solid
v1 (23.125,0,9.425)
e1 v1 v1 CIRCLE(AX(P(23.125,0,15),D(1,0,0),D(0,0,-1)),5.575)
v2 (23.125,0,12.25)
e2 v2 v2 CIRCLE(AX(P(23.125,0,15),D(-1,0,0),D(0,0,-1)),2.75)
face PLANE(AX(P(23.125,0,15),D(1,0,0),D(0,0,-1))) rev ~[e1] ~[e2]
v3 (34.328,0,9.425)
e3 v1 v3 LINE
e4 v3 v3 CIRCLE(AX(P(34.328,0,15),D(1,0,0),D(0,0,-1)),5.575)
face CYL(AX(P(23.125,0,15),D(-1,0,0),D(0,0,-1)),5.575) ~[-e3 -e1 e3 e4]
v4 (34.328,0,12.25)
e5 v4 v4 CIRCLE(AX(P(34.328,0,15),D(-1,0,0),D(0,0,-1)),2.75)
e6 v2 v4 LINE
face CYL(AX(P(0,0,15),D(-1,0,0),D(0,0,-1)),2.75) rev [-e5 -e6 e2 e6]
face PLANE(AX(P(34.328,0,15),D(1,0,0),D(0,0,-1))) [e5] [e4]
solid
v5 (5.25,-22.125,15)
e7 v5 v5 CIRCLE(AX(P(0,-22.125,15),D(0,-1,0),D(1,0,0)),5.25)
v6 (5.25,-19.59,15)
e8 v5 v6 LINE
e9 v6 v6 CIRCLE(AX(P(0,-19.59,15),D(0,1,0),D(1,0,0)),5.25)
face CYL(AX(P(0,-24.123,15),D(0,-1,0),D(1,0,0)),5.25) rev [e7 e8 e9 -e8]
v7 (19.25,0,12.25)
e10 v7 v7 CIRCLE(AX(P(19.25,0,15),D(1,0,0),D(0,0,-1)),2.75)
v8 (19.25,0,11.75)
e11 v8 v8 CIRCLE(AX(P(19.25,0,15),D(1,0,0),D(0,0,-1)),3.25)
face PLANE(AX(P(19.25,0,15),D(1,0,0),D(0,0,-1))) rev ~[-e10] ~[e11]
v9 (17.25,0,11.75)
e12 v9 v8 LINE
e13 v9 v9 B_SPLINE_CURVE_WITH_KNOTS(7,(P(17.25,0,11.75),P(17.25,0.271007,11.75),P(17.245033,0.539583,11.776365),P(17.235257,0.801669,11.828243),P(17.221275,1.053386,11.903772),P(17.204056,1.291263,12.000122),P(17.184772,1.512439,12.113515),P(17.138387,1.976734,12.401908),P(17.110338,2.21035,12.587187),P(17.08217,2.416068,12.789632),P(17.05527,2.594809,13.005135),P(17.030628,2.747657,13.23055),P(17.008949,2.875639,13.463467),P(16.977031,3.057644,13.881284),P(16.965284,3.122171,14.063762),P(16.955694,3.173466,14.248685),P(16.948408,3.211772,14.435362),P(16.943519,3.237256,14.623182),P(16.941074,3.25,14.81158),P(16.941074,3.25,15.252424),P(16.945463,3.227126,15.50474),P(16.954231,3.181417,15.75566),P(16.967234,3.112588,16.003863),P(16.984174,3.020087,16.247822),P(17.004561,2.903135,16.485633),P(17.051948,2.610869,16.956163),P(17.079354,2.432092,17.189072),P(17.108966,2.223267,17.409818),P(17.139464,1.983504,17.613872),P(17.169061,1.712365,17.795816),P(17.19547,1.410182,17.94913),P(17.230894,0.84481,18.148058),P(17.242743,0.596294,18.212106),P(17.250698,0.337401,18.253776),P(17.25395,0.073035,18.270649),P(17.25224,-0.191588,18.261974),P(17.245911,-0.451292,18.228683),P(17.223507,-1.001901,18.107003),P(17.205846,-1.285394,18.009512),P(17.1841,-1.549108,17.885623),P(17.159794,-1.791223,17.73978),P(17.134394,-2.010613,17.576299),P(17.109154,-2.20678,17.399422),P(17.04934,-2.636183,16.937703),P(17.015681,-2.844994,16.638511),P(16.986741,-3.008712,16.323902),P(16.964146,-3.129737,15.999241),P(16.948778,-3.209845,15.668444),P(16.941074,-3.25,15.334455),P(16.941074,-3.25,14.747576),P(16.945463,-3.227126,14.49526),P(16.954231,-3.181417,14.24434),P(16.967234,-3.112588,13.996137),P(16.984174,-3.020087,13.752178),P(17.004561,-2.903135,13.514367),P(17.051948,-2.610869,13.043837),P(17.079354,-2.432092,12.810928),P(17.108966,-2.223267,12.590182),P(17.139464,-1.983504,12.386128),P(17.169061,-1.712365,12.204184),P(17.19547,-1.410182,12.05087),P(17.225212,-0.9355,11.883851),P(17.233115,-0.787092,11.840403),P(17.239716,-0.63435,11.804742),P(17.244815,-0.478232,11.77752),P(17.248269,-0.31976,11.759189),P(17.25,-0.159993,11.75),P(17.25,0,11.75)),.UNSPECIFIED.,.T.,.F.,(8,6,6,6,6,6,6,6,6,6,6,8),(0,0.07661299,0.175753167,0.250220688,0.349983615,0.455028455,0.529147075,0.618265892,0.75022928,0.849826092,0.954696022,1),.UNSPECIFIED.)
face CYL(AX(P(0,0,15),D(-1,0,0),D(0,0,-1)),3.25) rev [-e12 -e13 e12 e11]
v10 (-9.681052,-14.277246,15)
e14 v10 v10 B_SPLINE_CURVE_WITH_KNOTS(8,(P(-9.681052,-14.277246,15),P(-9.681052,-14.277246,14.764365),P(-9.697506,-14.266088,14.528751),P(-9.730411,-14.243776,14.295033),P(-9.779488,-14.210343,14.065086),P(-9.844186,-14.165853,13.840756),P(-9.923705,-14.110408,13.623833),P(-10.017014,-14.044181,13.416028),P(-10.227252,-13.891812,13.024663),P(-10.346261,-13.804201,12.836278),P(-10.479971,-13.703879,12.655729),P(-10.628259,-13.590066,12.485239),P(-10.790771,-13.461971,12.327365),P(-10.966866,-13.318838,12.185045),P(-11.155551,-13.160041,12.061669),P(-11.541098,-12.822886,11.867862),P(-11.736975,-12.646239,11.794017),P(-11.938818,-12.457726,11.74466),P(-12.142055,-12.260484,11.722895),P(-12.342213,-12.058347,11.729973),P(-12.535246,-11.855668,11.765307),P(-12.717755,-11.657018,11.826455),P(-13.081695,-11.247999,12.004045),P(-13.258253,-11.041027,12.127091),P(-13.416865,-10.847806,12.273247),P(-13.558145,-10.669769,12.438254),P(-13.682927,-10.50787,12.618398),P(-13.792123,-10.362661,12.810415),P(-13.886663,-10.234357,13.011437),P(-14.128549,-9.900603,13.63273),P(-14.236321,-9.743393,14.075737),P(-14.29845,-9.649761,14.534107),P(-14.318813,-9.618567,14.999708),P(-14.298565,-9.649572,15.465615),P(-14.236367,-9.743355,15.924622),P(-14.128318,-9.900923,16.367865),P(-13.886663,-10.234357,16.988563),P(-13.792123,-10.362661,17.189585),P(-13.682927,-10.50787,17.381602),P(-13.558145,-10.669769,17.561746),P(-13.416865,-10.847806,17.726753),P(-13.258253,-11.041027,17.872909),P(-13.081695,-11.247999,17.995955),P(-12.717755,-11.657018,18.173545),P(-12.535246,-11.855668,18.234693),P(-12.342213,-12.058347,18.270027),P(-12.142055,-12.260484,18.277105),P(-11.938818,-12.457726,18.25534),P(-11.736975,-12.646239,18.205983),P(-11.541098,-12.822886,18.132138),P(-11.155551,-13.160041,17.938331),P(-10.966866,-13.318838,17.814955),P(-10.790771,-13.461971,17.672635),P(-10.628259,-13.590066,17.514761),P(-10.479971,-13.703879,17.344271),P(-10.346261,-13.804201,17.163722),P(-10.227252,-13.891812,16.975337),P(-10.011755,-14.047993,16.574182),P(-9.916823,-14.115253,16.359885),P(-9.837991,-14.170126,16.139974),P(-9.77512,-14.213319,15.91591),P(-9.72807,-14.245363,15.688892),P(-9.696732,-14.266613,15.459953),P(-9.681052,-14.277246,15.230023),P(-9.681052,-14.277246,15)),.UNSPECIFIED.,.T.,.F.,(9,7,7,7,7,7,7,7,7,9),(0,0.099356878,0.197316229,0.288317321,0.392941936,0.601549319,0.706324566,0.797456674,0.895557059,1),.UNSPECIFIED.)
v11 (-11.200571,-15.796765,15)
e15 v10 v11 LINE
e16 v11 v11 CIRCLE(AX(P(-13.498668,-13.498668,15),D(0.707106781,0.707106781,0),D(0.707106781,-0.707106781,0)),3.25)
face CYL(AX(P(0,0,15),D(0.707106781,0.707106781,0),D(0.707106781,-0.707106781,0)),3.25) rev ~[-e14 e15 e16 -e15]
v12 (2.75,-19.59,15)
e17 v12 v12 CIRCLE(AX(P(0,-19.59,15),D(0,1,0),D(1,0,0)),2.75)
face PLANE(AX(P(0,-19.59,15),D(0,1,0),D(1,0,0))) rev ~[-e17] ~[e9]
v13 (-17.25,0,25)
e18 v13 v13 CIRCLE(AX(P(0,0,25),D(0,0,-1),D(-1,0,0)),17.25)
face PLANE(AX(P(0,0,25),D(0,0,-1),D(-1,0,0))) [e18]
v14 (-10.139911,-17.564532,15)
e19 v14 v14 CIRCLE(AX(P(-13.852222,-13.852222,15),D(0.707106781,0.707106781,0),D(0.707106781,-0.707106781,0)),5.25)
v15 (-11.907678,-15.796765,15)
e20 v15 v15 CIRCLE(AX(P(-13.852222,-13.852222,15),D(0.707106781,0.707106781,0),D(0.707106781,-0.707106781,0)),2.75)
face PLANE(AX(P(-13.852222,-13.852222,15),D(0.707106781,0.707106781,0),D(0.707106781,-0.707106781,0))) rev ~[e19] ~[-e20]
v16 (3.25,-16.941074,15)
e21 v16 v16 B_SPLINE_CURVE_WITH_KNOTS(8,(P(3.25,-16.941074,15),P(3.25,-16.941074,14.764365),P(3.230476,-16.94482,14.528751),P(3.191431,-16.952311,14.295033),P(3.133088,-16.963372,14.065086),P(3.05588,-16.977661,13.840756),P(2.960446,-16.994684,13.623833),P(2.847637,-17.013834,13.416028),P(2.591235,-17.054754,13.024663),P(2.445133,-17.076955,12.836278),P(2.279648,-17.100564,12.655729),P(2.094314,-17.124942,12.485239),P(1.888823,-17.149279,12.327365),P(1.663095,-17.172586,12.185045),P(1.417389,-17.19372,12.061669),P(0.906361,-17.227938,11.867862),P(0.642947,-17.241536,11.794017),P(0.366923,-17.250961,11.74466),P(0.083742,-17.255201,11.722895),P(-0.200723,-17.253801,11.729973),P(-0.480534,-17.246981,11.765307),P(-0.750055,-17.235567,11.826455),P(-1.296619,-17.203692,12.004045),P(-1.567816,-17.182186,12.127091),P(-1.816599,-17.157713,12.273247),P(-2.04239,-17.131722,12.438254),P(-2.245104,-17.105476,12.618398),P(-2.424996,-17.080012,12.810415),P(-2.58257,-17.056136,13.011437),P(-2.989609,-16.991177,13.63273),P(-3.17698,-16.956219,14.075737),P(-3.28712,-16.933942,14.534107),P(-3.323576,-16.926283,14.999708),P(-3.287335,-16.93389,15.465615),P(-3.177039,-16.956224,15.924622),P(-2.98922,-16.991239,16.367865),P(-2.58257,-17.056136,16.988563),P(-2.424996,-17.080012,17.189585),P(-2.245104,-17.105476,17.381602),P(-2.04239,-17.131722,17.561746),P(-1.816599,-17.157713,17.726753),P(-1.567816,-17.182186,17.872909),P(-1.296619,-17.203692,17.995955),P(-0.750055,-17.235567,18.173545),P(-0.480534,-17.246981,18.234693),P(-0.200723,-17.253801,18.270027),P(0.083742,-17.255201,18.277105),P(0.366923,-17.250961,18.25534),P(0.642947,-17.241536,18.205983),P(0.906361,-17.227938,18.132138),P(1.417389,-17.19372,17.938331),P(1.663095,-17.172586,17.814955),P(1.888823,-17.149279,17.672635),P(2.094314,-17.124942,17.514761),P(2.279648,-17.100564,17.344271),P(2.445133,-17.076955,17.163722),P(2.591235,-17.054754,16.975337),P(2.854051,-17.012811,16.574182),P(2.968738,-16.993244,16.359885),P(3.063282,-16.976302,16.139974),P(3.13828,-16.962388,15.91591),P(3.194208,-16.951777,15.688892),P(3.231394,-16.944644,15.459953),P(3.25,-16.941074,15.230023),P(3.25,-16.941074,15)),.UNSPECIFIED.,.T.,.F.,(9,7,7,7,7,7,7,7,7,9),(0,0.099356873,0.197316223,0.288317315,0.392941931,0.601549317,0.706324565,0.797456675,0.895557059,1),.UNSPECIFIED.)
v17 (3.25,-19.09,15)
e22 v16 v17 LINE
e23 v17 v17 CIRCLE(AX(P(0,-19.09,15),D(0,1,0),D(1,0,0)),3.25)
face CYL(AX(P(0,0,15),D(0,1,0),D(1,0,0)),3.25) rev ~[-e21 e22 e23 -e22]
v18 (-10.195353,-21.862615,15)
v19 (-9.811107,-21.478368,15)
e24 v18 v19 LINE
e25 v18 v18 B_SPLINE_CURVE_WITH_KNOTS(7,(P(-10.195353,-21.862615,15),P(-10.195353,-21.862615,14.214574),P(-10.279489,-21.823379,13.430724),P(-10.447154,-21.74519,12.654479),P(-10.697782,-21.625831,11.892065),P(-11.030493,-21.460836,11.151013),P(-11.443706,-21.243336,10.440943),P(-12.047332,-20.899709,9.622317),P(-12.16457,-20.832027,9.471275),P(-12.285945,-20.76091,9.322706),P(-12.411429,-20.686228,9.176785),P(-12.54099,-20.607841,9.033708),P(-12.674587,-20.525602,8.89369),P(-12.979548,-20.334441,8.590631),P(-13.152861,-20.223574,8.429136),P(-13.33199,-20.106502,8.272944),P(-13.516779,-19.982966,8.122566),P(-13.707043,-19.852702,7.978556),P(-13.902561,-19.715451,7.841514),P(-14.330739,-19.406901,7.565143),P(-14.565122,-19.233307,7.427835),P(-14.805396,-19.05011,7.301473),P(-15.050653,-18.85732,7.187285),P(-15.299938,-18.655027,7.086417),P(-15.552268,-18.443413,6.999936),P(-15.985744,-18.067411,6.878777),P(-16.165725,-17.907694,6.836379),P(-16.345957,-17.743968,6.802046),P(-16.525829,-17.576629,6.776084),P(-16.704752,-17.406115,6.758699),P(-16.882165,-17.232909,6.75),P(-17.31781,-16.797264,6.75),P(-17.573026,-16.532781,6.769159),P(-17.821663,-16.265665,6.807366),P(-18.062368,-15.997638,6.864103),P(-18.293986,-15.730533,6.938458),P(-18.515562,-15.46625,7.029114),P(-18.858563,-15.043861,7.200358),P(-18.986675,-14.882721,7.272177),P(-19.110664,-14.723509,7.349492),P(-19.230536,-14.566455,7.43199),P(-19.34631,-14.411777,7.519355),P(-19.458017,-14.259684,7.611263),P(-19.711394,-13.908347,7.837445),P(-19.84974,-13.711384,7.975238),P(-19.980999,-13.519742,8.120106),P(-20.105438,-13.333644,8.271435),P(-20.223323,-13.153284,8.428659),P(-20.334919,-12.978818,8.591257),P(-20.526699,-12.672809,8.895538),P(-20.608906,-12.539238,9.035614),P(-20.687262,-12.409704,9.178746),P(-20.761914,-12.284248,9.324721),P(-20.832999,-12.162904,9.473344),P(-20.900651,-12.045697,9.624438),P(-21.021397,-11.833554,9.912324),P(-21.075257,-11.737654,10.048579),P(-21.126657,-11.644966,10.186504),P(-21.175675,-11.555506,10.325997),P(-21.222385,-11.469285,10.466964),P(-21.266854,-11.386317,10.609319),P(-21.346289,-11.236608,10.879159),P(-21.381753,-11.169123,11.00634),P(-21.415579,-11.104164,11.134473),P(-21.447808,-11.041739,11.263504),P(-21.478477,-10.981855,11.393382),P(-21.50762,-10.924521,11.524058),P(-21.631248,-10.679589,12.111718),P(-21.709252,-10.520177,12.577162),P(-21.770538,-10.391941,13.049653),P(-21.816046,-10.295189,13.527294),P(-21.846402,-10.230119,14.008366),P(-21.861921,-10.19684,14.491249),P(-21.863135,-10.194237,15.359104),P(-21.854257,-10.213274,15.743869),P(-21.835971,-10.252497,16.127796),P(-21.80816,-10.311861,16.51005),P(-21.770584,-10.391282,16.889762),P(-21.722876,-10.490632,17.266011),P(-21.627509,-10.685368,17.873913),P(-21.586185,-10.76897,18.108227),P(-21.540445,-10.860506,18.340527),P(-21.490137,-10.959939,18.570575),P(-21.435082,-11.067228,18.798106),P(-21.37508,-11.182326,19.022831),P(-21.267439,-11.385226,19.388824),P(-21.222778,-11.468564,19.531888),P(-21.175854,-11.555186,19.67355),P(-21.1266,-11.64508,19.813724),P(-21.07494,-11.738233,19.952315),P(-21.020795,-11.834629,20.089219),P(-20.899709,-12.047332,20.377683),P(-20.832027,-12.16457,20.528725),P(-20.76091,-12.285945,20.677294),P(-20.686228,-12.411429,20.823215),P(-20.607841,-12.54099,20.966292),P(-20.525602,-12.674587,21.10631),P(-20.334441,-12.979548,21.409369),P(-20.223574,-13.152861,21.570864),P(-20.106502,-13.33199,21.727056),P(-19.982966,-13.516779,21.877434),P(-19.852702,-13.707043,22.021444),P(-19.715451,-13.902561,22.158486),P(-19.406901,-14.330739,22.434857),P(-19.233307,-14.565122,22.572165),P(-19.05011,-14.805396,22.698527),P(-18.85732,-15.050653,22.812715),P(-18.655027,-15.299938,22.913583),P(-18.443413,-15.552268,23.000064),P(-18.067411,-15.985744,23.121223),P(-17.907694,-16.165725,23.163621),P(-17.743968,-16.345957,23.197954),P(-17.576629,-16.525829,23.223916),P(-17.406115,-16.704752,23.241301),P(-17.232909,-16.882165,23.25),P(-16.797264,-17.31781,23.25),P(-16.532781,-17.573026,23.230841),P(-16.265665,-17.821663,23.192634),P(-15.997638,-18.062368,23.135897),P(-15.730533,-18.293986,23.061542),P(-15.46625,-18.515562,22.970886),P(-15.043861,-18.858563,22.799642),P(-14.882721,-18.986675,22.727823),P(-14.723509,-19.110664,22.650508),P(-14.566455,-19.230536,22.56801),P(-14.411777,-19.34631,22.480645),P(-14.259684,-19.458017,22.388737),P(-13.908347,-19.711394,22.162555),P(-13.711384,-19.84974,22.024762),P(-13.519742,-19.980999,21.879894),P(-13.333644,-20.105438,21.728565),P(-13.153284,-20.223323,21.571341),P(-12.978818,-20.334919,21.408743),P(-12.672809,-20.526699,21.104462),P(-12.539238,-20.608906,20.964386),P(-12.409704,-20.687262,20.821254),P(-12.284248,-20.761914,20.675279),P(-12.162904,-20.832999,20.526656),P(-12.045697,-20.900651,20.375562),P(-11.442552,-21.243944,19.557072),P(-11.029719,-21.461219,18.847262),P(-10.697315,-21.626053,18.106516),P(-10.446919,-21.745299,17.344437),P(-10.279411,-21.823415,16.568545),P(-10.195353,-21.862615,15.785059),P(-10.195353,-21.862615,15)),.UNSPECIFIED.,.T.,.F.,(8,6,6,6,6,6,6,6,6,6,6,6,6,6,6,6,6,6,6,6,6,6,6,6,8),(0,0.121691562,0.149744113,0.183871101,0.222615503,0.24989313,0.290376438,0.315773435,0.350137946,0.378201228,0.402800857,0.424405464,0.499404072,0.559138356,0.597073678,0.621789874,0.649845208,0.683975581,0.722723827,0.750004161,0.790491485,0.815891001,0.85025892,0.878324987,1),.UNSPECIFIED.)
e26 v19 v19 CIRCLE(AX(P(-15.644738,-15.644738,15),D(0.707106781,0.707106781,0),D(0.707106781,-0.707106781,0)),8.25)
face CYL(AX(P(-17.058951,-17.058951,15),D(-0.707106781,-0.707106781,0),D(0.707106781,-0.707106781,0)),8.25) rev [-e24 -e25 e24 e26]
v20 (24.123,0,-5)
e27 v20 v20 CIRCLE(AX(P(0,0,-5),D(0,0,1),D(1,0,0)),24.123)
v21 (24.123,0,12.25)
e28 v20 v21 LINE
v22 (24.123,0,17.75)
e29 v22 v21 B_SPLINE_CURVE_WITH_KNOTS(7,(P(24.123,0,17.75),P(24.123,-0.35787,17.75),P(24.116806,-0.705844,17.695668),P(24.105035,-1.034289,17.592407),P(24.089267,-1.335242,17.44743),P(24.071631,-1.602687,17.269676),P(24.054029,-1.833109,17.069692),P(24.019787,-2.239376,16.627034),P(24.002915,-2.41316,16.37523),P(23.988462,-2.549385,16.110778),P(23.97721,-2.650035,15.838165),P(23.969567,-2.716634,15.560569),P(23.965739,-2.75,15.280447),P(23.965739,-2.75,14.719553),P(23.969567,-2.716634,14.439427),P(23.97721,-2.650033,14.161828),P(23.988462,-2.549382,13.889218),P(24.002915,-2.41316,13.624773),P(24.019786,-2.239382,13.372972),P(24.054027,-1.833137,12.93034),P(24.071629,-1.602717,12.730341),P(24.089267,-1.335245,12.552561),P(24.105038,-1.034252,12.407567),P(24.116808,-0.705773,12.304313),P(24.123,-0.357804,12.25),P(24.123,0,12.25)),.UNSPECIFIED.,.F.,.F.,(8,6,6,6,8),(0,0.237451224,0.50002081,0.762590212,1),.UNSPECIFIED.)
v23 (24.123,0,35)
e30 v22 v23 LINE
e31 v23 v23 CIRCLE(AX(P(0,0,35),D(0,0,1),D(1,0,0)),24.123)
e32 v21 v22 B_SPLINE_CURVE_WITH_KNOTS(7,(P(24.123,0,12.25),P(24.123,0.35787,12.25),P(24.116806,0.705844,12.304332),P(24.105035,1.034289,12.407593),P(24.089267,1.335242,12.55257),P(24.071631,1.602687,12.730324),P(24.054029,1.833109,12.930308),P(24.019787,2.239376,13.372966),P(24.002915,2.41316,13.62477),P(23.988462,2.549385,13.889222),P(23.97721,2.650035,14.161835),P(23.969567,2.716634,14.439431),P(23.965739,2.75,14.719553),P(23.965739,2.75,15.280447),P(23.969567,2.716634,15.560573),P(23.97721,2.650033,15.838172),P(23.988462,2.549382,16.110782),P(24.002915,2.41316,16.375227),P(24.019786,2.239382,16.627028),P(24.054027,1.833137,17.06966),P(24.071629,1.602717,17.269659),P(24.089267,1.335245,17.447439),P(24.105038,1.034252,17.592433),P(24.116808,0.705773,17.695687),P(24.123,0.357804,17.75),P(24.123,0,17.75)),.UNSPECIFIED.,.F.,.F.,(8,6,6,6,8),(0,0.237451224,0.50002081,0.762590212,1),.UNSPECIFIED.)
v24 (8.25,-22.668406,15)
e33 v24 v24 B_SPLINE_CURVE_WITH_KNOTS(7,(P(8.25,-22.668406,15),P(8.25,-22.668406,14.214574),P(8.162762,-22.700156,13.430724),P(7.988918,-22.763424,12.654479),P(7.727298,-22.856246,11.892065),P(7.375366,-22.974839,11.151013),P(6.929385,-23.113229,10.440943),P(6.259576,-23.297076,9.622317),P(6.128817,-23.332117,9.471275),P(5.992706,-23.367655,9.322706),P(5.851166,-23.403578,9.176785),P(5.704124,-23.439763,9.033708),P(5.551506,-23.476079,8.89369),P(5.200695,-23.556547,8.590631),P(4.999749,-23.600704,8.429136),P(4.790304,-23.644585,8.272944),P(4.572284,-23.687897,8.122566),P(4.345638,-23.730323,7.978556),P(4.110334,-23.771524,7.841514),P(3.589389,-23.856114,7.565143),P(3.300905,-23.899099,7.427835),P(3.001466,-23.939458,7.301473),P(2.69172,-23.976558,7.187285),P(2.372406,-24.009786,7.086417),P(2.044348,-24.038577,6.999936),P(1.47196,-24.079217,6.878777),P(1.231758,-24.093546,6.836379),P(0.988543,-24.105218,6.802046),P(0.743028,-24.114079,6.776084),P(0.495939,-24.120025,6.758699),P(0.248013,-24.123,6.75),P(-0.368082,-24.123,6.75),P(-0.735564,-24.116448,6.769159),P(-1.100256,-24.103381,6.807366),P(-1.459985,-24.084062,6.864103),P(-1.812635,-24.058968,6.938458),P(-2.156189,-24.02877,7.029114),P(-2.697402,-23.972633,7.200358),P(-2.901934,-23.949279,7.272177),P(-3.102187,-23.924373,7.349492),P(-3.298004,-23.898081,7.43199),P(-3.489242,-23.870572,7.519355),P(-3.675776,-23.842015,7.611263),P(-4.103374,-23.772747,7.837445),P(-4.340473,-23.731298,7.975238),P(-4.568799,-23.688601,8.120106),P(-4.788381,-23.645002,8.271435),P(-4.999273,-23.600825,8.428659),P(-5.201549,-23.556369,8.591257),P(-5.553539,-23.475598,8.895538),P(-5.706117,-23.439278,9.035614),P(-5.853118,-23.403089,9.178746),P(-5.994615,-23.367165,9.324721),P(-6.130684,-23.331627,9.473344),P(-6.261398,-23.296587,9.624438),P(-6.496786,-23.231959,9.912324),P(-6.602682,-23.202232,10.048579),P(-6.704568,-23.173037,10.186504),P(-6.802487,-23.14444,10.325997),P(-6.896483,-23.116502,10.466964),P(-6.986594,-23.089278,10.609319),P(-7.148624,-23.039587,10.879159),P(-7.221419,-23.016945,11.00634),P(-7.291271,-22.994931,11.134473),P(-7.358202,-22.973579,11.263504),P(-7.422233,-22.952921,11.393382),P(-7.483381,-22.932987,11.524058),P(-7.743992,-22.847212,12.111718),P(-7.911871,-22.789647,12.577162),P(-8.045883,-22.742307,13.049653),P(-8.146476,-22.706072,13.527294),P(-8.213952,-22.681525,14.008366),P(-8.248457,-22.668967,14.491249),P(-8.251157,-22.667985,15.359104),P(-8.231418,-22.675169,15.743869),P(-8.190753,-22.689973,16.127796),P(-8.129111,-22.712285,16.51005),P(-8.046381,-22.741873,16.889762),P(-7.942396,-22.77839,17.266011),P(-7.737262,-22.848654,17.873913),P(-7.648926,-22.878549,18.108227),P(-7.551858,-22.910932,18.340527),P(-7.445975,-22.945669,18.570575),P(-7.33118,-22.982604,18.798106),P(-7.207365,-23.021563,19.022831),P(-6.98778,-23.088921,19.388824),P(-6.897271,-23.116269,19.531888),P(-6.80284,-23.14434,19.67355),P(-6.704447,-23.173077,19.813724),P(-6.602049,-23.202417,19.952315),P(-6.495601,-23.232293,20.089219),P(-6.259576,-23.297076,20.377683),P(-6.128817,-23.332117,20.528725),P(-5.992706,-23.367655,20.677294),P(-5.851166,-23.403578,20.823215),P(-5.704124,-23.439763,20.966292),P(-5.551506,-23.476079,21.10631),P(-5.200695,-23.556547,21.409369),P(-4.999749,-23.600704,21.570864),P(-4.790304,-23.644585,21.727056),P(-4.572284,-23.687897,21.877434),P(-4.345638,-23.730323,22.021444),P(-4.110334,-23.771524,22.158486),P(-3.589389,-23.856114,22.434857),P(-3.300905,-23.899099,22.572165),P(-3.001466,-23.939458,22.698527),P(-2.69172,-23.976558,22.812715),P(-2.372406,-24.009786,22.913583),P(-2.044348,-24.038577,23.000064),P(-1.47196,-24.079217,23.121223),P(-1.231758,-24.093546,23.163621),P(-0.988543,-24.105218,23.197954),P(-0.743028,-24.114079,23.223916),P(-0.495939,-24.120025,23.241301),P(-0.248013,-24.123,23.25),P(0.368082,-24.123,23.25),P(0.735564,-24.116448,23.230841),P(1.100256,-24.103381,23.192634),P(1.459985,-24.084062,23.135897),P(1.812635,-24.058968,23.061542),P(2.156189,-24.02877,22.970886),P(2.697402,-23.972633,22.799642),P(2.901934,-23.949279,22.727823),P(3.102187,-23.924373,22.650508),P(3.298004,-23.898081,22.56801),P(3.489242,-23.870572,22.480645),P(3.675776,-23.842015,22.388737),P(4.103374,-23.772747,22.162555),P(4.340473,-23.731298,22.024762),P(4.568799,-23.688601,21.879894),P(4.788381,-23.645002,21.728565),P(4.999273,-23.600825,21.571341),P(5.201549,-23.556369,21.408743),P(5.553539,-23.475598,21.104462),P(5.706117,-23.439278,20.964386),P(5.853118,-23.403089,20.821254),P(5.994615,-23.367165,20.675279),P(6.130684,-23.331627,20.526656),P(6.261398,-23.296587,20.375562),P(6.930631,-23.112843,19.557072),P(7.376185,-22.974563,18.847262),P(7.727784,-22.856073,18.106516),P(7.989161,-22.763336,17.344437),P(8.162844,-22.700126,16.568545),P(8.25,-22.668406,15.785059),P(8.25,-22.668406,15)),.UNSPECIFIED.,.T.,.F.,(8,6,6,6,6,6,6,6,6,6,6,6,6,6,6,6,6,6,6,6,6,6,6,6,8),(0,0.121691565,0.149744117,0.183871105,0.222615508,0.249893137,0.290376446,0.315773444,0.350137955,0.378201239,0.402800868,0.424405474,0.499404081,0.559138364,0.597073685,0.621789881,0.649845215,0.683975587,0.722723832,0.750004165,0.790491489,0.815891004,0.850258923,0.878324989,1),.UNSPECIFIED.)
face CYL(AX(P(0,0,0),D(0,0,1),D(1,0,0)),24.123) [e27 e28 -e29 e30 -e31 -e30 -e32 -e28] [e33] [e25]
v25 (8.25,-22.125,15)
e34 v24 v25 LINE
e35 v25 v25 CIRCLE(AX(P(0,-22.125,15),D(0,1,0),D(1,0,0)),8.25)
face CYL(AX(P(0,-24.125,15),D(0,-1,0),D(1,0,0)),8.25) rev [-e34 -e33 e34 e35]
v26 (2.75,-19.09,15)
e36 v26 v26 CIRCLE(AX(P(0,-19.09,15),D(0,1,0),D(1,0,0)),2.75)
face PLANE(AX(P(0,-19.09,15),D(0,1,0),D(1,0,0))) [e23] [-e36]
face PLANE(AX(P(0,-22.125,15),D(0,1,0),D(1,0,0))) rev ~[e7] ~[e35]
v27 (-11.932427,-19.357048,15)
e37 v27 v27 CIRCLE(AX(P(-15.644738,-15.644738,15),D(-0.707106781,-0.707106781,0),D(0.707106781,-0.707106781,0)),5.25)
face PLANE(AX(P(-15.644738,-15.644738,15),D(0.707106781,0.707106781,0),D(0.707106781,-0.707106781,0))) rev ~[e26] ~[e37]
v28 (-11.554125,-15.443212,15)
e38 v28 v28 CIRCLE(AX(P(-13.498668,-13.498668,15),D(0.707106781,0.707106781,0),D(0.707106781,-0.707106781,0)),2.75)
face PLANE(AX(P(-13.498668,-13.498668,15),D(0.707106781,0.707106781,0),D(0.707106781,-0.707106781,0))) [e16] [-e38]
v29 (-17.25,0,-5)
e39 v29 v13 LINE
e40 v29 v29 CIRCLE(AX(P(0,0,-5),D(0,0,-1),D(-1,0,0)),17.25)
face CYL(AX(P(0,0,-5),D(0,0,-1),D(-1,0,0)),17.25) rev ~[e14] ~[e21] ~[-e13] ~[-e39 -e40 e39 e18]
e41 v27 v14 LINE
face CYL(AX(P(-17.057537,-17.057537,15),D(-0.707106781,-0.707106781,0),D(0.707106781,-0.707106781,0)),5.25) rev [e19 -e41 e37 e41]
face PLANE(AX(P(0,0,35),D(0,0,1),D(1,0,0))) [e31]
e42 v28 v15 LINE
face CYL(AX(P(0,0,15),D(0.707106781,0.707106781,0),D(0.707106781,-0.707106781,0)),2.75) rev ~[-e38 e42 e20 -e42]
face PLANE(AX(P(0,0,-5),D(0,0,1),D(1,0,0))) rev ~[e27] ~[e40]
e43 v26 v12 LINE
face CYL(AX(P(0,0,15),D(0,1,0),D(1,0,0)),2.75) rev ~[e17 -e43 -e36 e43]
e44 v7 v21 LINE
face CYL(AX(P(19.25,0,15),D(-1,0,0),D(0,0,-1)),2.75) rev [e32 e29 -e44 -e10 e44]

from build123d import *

# Parameters (mm, degrees)
SKETCH1_R                = 24.123
BOSS_EXTRUDE1_DEPTH      = 35
BOSS_EXTRUDE1_DEPTH_BACK = 5
SKETCH2_R                = 3.25
CUT_EXTRUDE2_DEPTH       = 19.25
SKETCH4_R                = 2.75
CUT_EXTRUDE3_DEPTH       = 200
CUT_EXTRUDE9_START       = -24.123
SKETCH6_R                = 5.25
CUT_EXTRUDE9_DEPTH       = 4.533
SKETCH7_R                = 17.25
CUT_EXTRUDE10_DEPTH      = 30
CUT_EXTRUDE11_START      = 19.25
SKETCH8_R                = 2.75
CUT_EXTRUDE11_DEPTH      = 24.873
BOSS_EXTRUDE2_START      = 23.125
SKETCH9_R                = 5.575
BOSS_EXTRUDE2_DEPTH      = 11.203
CUT_EXTRUDE12_DEPTH      = 50
CUT_EXTRUDE14_START      = -24.125
SKETCH12_R               = 8.25
CUT_EXTRUDE14_DEPTH      = 2
SKETCH13_R               = 3.25
CUT_EXTRUDE15_DEPTH      = 19.09
CIRPATTERN1_COUNT        = 2
CIRPATTERN1_ANGLE        = 45


with BuildPart() as part:
    # Sketch1 → Boss-Extrude1 (new body, two sides)
    with BuildSketch(Plane.XY) as boss_extrude1_sk:
        Circle(SKETCH1_R)
    extrude(amount=BOSS_EXTRUDE1_DEPTH)
    extrude(boss_extrude1_sk.sketch, amount=-BOSS_EXTRUDE1_DEPTH_BACK)

    # Sketch2 → Cut-Extrude2 (cut)
    with BuildSketch(Plane(origin=(0, 0, 0), x_dir=(0, 0, -1), z_dir=(1, 0, 0))):
        with Locations((-15, 0)):
            Circle(SKETCH2_R)
    extrude(amount=CUT_EXTRUDE2_DEPTH, mode=Mode.SUBTRACT)

    # Sketch4 → Cut-Extrude3 (cut)
    with BuildSketch(Plane(origin=(0, 0, 0), x_dir=(1, 0, 0), z_dir=(0, 1, 0))):
        with Locations((0, -15)):
            Circle(SKETCH4_R)
    cut_extrude3 = extrude(amount=-CUT_EXTRUDE3_DEPTH, mode=Mode.SUBTRACT)

    # Sketch6 → Cut-Extrude9 (cut)
    with BuildSketch(Plane(origin=(0, 0, 0), x_dir=(1, 0, 0), z_dir=(0, 1, 0)).offset(CUT_EXTRUDE9_START)):
        with Locations((0, -15)):
            Circle(SKETCH6_R)
    cut_extrude9 = extrude(amount=CUT_EXTRUDE9_DEPTH, mode=Mode.SUBTRACT)

    # Sketch7 → Cut-Extrude10 (cut)
    with BuildSketch(Plane(origin=(0, 0, -5), x_dir=(-1, 0, 0), z_dir=(0, 0, -1))):
        Circle(SKETCH7_R)
    extrude(amount=-CUT_EXTRUDE10_DEPTH, mode=Mode.SUBTRACT)

    # Sketch8 → Cut-Extrude11 (cut)
    with BuildSketch(Plane(origin=(0, 0, 0), x_dir=(0, 0, -1), z_dir=(1, 0, 0)).offset(CUT_EXTRUDE11_START)):
        with Locations((-15, 0)):
            Circle(SKETCH8_R)
    extrude(amount=CUT_EXTRUDE11_DEPTH, mode=Mode.SUBTRACT)

    # Sketch12 → Cut-Extrude14 (cut)
    with BuildSketch(Plane(origin=(0, 0, 0), x_dir=(1, 0, 0), z_dir=(0, 1, 0)).offset(CUT_EXTRUDE14_START)):
        with Locations((0, -15)):
            Circle(SKETCH12_R)
    cut_extrude14 = extrude(amount=CUT_EXTRUDE14_DEPTH, mode=Mode.SUBTRACT)

    # Sketch13 → Cut-Extrude15 (cut)
    with BuildSketch(Plane(origin=(0, 0, 0), x_dir=(1, 0, 0), z_dir=(0, 1, 0))):
        with Locations((0, -15)):
            Circle(SKETCH13_R)
    cut_extrude15 = extrude(amount=-CUT_EXTRUDE15_DEPTH, mode=Mode.SUBTRACT)

    # CirPattern1: Cut-Extrude3, Cut-Extrude9, Cut-Extrude14, Cut-Extrude15 ×2 about axis
    cirpattern1_axis = Axis((0, 0, 25), (0, 0, -1))
    for i in range(1, CIRPATTERN1_COUNT):
        add(cut_extrude3.rotate(cirpattern1_axis, i * CIRPATTERN1_ANGLE / (CIRPATTERN1_COUNT - 1)), mode=Mode.SUBTRACT)
        add(cut_extrude9.rotate(cirpattern1_axis, i * CIRPATTERN1_ANGLE / (CIRPATTERN1_COUNT - 1)), mode=Mode.SUBTRACT)
        add(cut_extrude14.rotate(cirpattern1_axis, i * CIRPATTERN1_ANGLE / (CIRPATTERN1_COUNT - 1)), mode=Mode.SUBTRACT)
        add(cut_extrude15.rotate(cirpattern1_axis, i * CIRPATTERN1_ANGLE / (CIRPATTERN1_COUNT - 1)), mode=Mode.SUBTRACT)


with BuildPart() as body_2:
    # Sketch9 → Boss-Extrude2 (new body)
    with BuildSketch(Plane(origin=(0, 0, 0), x_dir=(0, 0, -1), z_dir=(1, 0, 0)).offset(BOSS_EXTRUDE2_START)):
        with Locations((-15, 0)):
            Circle(SKETCH9_R)
    extrude(amount=BOSS_EXTRUDE2_DEPTH)

    # Sketch8 → Cut-Extrude12 (cut)
    with BuildSketch(Plane(origin=(0, 0, 0), x_dir=(0, 0, -1), z_dir=(1, 0, 0))):
        with Locations((-15, 0)):
            Circle(SKETCH8_R)
    extrude(amount=CUT_EXTRUDE12_DEPTH, mode=Mode.SUBTRACT)


solid = Compound([part.part, body_2.part])
